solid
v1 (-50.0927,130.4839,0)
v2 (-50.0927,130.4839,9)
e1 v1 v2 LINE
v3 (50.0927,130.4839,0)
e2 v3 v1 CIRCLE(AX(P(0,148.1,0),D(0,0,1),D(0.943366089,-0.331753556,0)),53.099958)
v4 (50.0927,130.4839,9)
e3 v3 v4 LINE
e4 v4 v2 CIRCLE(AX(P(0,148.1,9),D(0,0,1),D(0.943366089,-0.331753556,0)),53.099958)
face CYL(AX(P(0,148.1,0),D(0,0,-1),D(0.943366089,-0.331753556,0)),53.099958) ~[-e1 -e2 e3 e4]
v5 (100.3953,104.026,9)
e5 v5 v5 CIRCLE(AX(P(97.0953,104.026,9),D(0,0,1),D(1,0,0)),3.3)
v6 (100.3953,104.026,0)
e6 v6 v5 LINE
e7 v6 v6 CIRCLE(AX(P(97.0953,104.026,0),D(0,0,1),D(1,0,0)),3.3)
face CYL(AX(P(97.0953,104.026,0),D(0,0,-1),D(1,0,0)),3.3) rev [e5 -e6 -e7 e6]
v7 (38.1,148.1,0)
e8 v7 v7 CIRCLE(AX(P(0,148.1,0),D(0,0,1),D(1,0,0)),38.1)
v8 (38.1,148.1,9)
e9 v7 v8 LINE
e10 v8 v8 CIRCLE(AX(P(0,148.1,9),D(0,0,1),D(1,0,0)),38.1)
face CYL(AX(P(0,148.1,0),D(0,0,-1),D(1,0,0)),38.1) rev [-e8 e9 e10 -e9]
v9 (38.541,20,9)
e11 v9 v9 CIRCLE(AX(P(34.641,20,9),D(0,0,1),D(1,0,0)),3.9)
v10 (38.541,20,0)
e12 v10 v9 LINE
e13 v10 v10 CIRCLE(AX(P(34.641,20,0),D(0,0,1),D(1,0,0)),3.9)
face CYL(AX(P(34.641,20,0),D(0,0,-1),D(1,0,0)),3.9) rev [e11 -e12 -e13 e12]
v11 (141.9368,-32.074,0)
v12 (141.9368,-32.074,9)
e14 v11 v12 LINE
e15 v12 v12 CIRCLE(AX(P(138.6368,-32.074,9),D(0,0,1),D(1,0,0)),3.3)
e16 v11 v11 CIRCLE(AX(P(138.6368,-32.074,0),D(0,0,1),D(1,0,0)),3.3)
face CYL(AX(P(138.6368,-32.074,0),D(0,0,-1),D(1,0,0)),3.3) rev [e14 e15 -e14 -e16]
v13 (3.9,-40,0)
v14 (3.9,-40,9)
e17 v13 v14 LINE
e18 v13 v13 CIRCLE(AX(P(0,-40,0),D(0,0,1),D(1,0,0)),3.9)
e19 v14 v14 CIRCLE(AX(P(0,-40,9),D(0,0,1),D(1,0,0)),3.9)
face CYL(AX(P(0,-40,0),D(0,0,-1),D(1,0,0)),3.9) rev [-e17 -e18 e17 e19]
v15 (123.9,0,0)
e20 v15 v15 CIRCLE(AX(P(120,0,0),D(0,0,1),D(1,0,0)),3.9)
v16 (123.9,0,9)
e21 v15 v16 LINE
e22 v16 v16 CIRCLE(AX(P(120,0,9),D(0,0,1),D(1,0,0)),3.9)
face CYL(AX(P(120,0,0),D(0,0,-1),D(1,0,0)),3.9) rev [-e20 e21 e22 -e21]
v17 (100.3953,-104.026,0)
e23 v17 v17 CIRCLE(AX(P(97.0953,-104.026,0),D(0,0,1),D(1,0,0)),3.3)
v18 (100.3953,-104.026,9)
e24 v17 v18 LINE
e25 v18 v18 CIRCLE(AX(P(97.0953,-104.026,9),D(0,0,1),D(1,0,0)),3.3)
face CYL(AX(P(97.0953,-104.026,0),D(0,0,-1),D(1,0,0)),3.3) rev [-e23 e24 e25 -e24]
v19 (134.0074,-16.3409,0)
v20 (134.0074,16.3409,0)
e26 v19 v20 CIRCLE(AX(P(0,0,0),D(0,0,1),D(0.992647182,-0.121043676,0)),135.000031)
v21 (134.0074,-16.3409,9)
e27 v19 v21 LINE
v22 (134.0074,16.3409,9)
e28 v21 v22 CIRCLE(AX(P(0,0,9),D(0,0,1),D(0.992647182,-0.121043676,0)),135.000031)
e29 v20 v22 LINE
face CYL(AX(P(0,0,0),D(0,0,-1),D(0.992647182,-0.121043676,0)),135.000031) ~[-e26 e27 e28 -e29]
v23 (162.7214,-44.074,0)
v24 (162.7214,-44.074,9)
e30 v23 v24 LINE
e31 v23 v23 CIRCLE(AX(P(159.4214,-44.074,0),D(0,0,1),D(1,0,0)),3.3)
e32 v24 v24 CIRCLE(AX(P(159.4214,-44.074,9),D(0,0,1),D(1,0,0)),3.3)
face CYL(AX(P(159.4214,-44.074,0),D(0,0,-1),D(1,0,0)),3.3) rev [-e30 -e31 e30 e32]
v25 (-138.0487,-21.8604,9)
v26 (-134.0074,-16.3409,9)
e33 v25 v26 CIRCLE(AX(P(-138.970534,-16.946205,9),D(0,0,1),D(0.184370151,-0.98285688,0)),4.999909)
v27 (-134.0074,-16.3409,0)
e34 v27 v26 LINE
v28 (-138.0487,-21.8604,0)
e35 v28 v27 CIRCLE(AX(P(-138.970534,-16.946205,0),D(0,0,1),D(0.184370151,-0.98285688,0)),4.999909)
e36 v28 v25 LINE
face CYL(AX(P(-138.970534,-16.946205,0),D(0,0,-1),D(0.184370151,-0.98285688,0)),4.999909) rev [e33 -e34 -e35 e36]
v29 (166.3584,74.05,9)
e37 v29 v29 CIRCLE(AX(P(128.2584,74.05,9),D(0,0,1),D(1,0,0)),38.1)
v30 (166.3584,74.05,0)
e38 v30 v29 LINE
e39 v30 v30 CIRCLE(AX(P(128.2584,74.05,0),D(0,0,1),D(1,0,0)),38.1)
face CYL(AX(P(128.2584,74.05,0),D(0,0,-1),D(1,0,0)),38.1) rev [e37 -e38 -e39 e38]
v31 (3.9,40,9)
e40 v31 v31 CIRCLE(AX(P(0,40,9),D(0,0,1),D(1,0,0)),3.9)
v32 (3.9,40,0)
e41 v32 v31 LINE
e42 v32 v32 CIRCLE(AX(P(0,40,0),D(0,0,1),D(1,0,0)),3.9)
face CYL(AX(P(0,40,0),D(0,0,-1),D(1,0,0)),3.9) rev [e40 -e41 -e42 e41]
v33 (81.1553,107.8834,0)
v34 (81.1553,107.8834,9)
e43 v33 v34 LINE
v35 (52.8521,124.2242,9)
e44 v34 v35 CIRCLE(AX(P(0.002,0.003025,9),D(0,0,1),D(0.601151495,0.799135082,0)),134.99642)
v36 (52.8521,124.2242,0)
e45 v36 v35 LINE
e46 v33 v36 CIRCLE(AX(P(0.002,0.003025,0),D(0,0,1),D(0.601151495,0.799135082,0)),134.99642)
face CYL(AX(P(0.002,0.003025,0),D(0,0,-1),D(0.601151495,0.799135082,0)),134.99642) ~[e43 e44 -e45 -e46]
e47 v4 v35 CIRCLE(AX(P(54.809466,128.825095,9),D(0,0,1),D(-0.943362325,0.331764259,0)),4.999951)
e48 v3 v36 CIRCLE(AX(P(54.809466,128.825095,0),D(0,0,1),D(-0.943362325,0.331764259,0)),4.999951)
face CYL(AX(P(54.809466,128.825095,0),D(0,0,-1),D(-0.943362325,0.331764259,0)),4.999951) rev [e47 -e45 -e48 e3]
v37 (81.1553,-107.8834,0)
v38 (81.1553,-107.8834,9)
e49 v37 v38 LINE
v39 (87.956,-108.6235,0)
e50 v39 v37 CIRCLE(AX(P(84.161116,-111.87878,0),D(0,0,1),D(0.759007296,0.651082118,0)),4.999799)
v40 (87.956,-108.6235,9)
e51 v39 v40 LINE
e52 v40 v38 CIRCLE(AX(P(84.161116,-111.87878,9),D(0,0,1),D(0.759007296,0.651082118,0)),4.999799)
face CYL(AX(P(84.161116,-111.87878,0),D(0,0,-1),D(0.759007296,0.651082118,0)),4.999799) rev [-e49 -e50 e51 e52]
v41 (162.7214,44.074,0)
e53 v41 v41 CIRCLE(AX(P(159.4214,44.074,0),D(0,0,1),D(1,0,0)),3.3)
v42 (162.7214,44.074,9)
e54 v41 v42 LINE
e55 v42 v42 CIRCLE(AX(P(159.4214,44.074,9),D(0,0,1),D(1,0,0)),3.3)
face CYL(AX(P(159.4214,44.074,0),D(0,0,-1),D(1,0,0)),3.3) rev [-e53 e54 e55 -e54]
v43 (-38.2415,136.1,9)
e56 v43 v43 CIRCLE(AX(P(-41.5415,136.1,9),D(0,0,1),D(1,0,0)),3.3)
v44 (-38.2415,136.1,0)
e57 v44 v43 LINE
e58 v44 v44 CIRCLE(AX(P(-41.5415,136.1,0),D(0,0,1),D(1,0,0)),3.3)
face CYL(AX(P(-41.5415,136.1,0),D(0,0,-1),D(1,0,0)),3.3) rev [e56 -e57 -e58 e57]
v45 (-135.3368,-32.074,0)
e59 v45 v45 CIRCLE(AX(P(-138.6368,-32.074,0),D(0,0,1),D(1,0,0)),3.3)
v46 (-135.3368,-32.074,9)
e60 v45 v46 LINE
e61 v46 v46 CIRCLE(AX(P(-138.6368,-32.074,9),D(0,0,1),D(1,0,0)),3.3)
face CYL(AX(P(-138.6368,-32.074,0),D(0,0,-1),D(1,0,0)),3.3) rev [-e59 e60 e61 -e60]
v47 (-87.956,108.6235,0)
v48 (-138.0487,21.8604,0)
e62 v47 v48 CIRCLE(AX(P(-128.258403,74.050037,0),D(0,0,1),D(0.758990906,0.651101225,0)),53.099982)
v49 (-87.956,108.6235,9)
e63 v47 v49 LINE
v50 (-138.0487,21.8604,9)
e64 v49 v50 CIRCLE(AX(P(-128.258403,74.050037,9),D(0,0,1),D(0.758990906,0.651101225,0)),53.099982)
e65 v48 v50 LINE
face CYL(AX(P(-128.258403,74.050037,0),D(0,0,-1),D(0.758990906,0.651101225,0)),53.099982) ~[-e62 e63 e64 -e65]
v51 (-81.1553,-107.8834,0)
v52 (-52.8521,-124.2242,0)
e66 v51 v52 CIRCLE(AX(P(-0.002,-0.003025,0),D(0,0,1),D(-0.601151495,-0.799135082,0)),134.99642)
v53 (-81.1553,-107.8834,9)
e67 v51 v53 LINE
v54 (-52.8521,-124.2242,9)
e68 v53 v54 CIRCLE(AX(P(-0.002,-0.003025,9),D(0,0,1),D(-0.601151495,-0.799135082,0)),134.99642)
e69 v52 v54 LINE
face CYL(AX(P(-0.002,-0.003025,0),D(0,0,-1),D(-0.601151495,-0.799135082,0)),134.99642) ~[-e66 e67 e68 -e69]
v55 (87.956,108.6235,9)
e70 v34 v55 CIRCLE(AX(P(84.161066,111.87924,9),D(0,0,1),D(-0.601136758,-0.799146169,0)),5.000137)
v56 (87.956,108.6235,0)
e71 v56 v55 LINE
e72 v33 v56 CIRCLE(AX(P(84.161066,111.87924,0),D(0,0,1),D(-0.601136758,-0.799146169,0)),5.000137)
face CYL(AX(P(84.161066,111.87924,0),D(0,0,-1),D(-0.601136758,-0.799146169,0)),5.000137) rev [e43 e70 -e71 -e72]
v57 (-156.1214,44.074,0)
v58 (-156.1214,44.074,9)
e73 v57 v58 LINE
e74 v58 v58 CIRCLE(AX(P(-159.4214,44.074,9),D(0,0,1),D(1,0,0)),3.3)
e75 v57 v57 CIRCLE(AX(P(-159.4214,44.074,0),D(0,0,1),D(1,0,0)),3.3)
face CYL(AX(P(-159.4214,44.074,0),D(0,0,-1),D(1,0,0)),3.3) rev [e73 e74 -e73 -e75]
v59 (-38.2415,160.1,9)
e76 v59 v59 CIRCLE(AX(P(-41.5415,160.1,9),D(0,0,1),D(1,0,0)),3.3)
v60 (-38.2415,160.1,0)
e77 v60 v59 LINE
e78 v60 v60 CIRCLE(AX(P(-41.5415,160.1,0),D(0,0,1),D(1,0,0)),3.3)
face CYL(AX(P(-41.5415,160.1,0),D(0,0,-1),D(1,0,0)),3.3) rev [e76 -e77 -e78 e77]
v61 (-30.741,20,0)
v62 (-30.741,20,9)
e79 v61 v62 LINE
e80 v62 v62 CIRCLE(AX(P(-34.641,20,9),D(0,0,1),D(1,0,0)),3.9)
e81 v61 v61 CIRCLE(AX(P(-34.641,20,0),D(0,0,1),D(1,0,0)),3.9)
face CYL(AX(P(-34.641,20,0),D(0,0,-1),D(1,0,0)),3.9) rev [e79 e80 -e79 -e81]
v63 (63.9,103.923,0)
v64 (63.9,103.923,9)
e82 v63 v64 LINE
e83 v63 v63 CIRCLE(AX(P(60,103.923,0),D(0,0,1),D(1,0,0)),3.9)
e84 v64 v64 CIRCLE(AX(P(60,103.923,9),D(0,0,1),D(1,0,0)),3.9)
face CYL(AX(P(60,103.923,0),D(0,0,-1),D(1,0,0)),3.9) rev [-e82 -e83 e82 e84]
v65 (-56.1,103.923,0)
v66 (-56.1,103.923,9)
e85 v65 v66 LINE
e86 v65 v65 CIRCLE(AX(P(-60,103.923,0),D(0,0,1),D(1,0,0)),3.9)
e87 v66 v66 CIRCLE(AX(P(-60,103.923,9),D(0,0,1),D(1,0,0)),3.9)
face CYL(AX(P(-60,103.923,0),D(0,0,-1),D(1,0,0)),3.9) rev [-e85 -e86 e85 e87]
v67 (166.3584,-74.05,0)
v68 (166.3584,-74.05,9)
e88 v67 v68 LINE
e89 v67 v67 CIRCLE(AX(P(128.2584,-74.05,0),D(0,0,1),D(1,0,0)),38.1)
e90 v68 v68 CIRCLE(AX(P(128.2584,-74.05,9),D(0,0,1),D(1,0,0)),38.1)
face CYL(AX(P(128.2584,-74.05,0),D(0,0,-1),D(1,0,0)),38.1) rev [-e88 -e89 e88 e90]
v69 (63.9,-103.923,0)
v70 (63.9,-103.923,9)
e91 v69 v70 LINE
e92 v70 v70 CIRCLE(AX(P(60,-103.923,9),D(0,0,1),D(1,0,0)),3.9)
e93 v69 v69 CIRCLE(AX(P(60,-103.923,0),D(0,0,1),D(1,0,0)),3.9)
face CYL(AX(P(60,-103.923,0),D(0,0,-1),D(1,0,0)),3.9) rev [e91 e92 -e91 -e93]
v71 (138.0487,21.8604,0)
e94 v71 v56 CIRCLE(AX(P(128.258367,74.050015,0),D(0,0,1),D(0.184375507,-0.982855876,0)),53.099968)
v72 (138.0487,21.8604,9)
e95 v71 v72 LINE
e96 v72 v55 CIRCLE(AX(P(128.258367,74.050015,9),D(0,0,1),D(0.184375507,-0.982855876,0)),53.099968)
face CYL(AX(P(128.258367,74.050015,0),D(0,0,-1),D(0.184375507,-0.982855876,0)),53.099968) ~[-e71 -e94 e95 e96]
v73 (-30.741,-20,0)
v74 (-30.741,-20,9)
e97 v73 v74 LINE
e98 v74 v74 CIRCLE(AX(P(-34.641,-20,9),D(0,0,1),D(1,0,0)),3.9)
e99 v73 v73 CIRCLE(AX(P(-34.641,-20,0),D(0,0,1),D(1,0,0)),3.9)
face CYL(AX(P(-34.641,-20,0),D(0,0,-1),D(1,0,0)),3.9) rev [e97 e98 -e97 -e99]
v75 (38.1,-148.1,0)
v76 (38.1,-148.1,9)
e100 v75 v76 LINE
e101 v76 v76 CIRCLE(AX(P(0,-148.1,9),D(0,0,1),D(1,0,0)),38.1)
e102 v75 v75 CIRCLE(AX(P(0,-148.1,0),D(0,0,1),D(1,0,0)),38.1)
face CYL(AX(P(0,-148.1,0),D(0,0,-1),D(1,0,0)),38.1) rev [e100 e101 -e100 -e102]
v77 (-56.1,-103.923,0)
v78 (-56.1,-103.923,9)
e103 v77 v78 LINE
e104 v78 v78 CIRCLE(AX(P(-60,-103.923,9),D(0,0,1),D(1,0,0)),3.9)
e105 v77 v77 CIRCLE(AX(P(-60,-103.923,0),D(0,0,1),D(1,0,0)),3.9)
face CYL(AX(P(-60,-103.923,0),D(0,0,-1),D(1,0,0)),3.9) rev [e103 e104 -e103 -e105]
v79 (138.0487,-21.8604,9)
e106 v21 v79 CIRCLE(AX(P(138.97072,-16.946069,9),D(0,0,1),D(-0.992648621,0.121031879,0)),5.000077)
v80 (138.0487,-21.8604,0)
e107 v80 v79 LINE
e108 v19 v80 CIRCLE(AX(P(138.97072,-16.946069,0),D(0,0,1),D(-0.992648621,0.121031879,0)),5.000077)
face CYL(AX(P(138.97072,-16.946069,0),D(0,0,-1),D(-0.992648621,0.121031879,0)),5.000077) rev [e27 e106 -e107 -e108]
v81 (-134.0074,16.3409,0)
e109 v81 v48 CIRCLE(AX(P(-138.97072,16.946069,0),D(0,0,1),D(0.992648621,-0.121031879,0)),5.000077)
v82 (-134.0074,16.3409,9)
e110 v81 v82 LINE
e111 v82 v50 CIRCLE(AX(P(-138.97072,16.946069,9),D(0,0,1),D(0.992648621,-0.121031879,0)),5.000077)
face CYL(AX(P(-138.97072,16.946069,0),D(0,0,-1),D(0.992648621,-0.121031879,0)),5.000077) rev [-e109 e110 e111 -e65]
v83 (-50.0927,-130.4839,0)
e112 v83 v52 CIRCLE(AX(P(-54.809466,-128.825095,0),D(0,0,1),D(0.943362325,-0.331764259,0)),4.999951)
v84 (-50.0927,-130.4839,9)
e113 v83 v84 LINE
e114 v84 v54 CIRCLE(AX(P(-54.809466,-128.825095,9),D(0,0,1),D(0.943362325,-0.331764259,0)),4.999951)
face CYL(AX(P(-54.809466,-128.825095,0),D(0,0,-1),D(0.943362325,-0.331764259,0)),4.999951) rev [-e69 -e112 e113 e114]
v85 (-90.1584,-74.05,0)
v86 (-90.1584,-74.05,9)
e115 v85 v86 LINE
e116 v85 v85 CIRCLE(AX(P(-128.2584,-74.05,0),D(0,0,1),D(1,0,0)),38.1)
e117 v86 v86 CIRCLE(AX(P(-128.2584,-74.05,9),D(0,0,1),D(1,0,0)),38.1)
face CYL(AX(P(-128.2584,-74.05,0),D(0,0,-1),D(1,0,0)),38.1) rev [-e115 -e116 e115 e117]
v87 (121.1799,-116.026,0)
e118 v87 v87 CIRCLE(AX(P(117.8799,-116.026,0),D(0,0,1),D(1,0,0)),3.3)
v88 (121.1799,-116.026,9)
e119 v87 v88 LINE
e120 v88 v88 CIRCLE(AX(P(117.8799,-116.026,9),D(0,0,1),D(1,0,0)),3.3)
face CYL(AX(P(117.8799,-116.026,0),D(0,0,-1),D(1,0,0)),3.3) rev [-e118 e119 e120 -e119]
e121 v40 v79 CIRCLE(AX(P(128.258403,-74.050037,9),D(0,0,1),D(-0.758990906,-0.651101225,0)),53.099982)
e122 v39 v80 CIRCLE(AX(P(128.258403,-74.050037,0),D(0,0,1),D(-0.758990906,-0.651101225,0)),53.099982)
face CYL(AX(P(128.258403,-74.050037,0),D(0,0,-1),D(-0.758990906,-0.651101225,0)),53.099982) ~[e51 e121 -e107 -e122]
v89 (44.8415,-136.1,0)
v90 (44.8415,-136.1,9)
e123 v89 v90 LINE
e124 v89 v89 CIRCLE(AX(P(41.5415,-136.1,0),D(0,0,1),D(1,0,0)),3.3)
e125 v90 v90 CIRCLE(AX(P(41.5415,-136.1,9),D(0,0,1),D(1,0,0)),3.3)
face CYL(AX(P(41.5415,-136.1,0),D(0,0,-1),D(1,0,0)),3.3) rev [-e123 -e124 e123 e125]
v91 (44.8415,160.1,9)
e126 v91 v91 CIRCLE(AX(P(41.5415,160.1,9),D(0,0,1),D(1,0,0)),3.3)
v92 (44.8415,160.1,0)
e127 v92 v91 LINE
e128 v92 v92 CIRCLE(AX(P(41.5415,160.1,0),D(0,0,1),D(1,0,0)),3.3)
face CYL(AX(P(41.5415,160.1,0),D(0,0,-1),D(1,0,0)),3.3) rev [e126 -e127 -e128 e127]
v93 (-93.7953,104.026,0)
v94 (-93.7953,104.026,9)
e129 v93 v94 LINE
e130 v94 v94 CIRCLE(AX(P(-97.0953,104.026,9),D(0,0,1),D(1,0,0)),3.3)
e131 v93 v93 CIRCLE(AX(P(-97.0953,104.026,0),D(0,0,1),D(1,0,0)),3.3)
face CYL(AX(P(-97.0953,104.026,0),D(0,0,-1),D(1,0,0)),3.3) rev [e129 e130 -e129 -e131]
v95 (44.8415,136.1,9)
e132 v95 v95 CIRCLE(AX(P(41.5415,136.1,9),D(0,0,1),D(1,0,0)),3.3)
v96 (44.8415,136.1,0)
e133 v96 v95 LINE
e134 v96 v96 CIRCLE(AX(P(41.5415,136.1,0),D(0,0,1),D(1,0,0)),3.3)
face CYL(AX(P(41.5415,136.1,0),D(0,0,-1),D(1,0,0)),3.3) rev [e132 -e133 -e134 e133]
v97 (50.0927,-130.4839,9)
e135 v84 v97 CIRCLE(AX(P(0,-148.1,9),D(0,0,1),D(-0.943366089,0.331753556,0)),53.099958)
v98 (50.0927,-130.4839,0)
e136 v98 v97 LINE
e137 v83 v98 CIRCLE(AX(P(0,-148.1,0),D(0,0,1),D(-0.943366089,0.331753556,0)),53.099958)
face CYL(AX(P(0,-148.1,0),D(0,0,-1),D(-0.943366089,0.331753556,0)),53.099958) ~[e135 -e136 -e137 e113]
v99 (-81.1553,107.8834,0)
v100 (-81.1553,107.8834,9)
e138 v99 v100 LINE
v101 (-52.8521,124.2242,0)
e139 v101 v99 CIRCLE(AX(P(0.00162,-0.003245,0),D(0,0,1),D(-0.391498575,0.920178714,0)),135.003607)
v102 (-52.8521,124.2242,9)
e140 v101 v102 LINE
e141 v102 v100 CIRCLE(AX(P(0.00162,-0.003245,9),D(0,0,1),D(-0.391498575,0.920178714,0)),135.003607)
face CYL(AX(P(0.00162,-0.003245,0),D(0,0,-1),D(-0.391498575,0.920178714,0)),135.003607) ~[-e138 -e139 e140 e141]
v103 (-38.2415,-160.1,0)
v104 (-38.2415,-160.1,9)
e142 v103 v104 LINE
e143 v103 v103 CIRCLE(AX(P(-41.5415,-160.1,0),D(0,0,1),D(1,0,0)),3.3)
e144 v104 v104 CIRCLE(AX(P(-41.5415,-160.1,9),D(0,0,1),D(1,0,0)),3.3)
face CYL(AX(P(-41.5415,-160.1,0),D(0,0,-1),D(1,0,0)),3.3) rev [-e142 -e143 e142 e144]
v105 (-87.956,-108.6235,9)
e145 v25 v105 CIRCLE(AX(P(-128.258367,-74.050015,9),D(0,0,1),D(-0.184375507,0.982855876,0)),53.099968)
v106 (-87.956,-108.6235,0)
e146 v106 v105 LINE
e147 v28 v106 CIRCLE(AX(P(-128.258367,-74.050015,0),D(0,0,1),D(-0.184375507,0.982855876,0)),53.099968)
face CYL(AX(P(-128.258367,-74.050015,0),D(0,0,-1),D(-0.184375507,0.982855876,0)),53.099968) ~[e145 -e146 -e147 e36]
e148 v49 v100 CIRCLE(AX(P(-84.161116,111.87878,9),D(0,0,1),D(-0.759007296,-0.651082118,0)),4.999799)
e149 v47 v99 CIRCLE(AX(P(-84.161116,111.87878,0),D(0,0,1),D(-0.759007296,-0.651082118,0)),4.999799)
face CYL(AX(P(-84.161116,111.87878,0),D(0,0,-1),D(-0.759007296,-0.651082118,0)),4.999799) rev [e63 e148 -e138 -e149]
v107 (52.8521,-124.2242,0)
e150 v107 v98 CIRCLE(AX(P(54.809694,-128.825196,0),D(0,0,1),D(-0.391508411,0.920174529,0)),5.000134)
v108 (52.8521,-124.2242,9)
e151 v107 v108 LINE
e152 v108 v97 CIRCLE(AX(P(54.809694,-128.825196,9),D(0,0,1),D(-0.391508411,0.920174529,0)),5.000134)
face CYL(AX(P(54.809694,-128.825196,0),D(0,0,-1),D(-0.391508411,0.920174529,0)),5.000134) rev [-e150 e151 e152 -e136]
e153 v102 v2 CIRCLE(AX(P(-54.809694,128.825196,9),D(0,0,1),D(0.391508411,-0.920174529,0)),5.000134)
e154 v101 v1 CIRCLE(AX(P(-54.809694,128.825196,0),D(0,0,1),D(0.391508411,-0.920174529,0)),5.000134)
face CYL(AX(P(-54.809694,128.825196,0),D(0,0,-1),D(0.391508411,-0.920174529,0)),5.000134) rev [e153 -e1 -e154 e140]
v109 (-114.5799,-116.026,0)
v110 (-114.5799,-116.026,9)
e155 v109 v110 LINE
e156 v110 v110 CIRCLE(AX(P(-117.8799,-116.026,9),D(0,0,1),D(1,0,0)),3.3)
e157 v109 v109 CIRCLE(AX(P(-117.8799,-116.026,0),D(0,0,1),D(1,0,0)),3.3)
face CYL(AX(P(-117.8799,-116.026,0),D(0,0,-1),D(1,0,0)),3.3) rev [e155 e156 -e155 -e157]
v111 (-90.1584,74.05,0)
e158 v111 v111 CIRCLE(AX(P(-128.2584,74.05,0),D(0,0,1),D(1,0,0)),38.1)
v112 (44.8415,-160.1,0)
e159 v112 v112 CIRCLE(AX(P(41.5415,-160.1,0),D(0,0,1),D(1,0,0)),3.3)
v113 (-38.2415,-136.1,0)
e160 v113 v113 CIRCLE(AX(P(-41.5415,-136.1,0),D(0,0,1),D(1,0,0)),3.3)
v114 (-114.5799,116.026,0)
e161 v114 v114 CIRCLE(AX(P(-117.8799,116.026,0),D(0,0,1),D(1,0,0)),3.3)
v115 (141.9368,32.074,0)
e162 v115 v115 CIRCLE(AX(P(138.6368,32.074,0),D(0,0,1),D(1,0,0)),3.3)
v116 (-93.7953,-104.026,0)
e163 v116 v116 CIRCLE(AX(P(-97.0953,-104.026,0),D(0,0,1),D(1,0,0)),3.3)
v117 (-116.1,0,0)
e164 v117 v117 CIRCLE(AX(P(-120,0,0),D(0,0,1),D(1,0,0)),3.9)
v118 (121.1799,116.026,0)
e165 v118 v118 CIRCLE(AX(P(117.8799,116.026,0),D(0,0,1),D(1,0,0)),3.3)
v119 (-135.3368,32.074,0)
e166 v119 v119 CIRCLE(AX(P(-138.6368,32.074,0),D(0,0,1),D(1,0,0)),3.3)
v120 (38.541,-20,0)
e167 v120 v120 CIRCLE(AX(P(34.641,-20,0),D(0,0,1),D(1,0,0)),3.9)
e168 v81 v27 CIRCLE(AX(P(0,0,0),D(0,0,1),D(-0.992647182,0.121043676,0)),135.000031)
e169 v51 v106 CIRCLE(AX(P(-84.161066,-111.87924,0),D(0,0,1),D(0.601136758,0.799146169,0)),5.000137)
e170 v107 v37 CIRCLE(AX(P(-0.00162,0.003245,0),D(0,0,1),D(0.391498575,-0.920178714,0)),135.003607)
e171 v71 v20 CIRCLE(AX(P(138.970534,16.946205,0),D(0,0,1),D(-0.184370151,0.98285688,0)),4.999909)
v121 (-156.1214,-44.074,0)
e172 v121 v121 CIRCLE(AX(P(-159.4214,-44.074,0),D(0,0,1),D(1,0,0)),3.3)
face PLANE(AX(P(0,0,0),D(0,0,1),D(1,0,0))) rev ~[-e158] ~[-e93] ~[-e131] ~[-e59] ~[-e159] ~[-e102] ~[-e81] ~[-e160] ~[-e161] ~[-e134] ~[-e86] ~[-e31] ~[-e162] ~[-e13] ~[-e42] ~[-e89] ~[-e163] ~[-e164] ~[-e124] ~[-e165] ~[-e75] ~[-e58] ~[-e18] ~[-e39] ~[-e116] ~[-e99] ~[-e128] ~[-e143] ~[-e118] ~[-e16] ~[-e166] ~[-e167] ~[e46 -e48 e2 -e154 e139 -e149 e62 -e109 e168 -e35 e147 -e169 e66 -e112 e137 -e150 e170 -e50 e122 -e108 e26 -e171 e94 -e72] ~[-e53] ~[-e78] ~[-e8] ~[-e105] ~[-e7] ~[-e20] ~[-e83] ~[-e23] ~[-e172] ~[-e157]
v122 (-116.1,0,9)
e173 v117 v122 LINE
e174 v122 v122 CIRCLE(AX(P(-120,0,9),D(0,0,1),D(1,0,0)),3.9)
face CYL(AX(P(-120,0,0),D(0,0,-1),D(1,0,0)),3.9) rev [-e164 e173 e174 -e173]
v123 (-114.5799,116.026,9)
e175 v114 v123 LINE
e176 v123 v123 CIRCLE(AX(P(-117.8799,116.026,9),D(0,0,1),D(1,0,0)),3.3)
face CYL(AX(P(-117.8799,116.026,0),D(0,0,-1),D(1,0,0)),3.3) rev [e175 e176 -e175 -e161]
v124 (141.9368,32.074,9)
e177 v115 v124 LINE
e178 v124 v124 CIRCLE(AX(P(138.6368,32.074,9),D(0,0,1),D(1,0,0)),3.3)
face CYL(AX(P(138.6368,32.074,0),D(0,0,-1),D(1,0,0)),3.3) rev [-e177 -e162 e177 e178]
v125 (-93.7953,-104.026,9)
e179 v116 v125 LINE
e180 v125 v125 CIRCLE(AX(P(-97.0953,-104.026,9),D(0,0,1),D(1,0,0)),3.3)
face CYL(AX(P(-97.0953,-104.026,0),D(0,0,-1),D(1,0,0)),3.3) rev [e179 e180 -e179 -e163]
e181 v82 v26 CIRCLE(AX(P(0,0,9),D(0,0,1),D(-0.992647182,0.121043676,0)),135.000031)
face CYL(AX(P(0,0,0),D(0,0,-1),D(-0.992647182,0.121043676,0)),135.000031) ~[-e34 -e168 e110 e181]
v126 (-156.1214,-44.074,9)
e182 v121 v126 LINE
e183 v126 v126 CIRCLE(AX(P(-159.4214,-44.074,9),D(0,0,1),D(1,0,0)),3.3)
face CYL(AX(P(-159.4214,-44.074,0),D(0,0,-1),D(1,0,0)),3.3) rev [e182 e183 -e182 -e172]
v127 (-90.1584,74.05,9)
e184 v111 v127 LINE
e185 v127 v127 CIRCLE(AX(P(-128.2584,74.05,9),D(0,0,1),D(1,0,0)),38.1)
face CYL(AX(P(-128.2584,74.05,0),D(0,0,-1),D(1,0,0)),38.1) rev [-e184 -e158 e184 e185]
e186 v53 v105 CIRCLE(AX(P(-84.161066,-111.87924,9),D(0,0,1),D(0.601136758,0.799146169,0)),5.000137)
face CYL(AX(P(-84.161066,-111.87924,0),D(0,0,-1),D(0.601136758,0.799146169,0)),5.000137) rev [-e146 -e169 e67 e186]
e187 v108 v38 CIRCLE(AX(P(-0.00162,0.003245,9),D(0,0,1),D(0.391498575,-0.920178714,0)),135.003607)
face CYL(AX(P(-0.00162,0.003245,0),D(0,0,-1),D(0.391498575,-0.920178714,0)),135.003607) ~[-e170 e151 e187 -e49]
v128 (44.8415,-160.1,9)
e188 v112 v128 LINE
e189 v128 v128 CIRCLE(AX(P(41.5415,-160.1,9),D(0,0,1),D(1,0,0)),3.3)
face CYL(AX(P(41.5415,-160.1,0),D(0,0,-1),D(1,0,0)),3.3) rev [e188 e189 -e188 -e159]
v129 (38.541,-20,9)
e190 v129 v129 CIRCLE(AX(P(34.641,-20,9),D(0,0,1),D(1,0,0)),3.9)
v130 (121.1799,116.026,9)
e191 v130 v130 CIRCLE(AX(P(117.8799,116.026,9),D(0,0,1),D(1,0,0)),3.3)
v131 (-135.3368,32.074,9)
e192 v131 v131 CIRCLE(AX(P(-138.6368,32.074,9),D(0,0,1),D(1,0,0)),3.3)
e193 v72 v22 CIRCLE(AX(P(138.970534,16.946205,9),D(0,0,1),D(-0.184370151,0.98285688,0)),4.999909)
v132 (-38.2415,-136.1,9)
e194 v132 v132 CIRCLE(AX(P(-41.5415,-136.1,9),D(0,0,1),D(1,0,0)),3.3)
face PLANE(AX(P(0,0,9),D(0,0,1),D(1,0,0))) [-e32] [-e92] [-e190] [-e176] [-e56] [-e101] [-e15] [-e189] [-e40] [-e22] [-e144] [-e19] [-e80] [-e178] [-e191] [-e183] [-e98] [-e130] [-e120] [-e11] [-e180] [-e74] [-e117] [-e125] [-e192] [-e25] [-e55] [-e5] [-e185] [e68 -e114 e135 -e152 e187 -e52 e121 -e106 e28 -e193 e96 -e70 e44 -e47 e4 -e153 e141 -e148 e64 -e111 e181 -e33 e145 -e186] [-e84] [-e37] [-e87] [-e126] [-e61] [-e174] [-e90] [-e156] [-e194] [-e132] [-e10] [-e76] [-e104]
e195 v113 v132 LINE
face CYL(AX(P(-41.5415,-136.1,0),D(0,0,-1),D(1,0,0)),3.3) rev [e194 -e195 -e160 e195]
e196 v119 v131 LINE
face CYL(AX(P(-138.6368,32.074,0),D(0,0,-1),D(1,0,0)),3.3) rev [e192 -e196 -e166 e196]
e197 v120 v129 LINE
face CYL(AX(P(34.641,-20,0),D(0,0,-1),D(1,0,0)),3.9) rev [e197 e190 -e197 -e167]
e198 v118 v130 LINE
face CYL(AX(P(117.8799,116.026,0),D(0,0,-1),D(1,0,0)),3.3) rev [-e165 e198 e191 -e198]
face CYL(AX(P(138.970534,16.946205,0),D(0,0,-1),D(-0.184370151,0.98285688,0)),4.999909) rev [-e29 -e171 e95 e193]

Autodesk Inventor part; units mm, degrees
ref_plane "YZ Plane" through (0, 0, 0) normal (1, 0, 0) x (0, 1, 0)
ref_plane "XZ Plane" through (0, 0, 0) normal (0, 1, 0) x (-1, 0, 0)
ref_plane "XY Plane" through (0, 0, 0) normal (0, 0, 1) x (1, 0, 0)
sketch "Sketch1" plane through (0, 0, 0) normal (0, 0, 1) x (1, 0, 0)
  circle A0 centre (0, 0) radius 186.2 construction
  line L0 (0, 0) -> (0, 152.9684) construction
  circle A1 centre (0, 0) radius 100 construction
  circle A2 centre (0, 148.1) radius 38.1
  circle A3 centre (0, 148.1) radius 37.5 construction
  arc A4 (-52.8521, 124.2242) -> (-81.1553, 107.8834) centre (0, 0) ccw
  arc A5 (-134.0074, 16.3409) -> (-134.0074, -16.3409) centre (0, 0) ccw
  arc A6 (-81.1553, -107.8834) -> (-52.8521, -124.2242) centre (0, 0) ccw
  arc A7 (52.8521, -124.2242) -> (81.1553, -107.8834) centre (0, 0) ccw
  arc A8 (134.0074, -16.3409) -> (134.0074, 16.3409) centre (0, 0) ccw
  arc A9 (81.1553, 107.8834) -> (52.8521, 124.2242) centre (0, 0) ccw
  arc A10 (50.0927, 130.4839) -> (-50.0927, 130.4839) centre (0, 148.1) ccw
  arc A11 (-52.8521, 124.2242) -> (-50.0927, 130.4839) centre (-54.8096, 128.8251) ccw
  arc A12 (50.0927, 130.4839) -> (52.8521, 124.2242) centre (54.8096, 128.8251) ccw
  arc A13 (-87.956, 108.6235) -> (-138.0487, 21.8604) centre (-128.2584, 74.05) ccw
  circle A14 centre (-128.2584, 74.05) radius 38.1
  arc A15 (-87.956, 108.6235) -> (-81.1553, 107.8834) centre (-84.161, 111.879) ccw
  arc A16 (-134.0074, 16.3409) -> (-138.0487, 21.8604) centre (-138.9706, 16.9461) ccw
  arc A17 (-138.0487, -21.8604) -> (-87.956, -108.6235) centre (-128.2584, -74.05) ccw
  circle A18 centre (-128.2584, -74.05) radius 38.1
  arc A19 (-138.0487, -21.8604) -> (-134.0074, -16.3409) centre (-138.9706, -16.9461) ccw
  arc A20 (-81.1553, -107.8834) -> (-87.956, -108.6235) centre (-84.161, -111.879) ccw
  arc A21 (-50.0927, -130.4839) -> (50.0927, -130.4839) centre (0, -148.1) ccw
  circle A22 centre (0, -148.1) radius 38.1
  arc A23 (-50.0927, -130.4839) -> (-52.8521, -124.2242) centre (-54.8096, -128.8251) ccw
  arc A24 (52.8521, -124.2242) -> (50.0927, -130.4839) centre (54.8096, -128.8251) ccw
  arc A25 (87.956, -108.6235) -> (138.0487, -21.8604) centre (128.2584, -74.05) ccw
  circle A26 centre (128.2584, -74.05) radius 38.1
  arc A27 (87.956, -108.6235) -> (81.1553, -107.8834) centre (84.161, -111.879) ccw
  arc A28 (134.0074, -16.3409) -> (138.0487, -21.8604) centre (138.9706, -16.9461) ccw
  arc A29 (138.0487, 21.8604) -> (87.956, 108.6235) centre (128.2584, 74.05) ccw
  circle A30 centre (128.2584, 74.05) radius 38.1
  arc A31 (138.0487, 21.8604) -> (134.0074, 16.3409) centre (138.9706, 16.9461) ccw
  arc A32 (81.1553, 107.8834) -> (87.956, 108.6235) centre (84.161, 111.879) ccw
  circle A33 centre (41.5415, 160.1) radius 3.3
  circle A34 centre (41.5415, 136.1) radius 3.3
  line L1 (0, 148.1) -> (41.5415, 160.1) construction
  line L2 (41.5415, 160.1) -> (41.5415, 136.1) construction
  line L3 (41.5415, 136.1) -> (0, 148.1) construction
  circle A35 centre (-41.5415, 160.1) radius 3.3
  circle A36 centre (-41.5415, 136.1) radius 3.3
  circle A37 centre (-117.8799, 116.026) radius 3.3
  circle A38 centre (-97.0953, 104.026) radius 3.3
  circle A39 centre (-159.4214, 44.074) radius 3.3
  circle A40 centre (-138.6368, 32.074) radius 3.3
  circle A41 centre (-159.4214, -44.074) radius 3.3
  circle A42 centre (-138.6368, -32.074) radius 3.3
  circle A43 centre (-117.8799, -116.026) radius 3.3
  circle A44 centre (-97.0953, -104.026) radius 3.3
  circle A45 centre (-41.5415, -160.1) radius 3.3
  circle A46 centre (-41.5415, -136.1) radius 3.3
  circle A47 centre (41.5415, -160.1) radius 3.3
  circle A48 centre (41.5415, -136.1) radius 3.3
  circle A49 centre (117.8799, -116.026) radius 3.3
  circle A50 centre (97.0953, -104.026) radius 3.3
  circle A51 centre (159.4214, -44.074) radius 3.3
  circle A52 centre (138.6368, -32.074) radius 3.3
  circle A53 centre (159.4214, 44.074) radius 3.3
  circle A54 centre (138.6368, 32.074) radius 3.3
  circle A55 centre (117.8799, 116.026) radius 3.3
  circle A56 centre (97.0953, 104.026) radius 3.3
  circle A57 centre (0, 0) radius 72.5 construction
  line L4 (0, 0) -> (293.3984, 0) construction
  line L5 (0, 0) -> (-240, 0) construction
  circle A58 centre (0, 40) radius 3.9
  circle A59 centre (-34.641, 20) radius 3.9
  circle A60 centre (-34.641, -20) radius 3.9
  circle A61 centre (0, -40) radius 3.9
  circle A62 centre (34.641, -20) radius 3.9
  circle A63 centre (34.641, 20) radius 3.9
  circle A64 centre (-120, 0) radius 3.9
  circle A65 centre (-60, -103.923) radius 3.9
  circle A66 centre (60, -103.923) radius 3.9
  circle A67 centre (120, 0) radius 3.9
  circle A68 centre (60, 103.923) radius 3.9
  circle A69 centre (-60, 103.923) radius 3.9
  point P0 (-34.3824, 131.6848)
  point P1 (-32.4194, 128.0852)
  point P2 (34.2525, 131.4155)
  point P3 (32.4194, 128.0852)
  point P4 (-94.7153, 92.1186)
  point P5 (-127.1347, 35.9666)
  point P6 (-131.2335, 36.0663)
  point P7 (-96.6829, 95.3713)
  point P8 (-127.1347, -35.9666)
  point P9 (-94.7153, -92.1186)
  point P10 (-96.8511, -95.6184)
  point P11 (-130.9354, -36.0442)
  point P12 (-32.4194, -128.0852)
  point P13 (32.4194, -128.0852)
  point P14 (34.3824, -131.6848)
  point P15 (-34.2525, -131.4155)
  point P16 (94.7153, -92.1186)
  point P17 (127.1347, -35.9666)
  point P18 (131.2335, -36.0663)
  point P19 (96.6829, -95.3713)
  point P20 (127.1347, 35.9666)
  point P21 (94.7153, 92.1186)
  point P22 (96.8511, 95.6184)
  point P23 (130.9354, 36.0442)
  dimension "d0" = 372.4
  dimension "d42" = 0.6
  dimension "d43" = 135
  dimension "d44" = 75
  dimension "d45" = 15
  dimension "d48" = 5
  dimension "d51" = 360
  dimension "d53" = 6.6
  dimension "d54" = 6.6
  dimension "d56" = 43.24
  dimension "d57" = 24
  dimension "d58" = 43.24
  dimension "d61" = 360
  dimension "d64" = 200
  dimension "d65" = 145
  dimension "d73" = 7.8
  dimension "d74" = 40
  dimension "d77" = 360
  dimension "d79" = 7.8
  dimension "d80" = 120
  dimension "d83" = 360
extrude "Extrusion1" add sketch "Sketch1" along normal blind 9
properties part number "GenevaHolder" material "Plywood, Finish"
